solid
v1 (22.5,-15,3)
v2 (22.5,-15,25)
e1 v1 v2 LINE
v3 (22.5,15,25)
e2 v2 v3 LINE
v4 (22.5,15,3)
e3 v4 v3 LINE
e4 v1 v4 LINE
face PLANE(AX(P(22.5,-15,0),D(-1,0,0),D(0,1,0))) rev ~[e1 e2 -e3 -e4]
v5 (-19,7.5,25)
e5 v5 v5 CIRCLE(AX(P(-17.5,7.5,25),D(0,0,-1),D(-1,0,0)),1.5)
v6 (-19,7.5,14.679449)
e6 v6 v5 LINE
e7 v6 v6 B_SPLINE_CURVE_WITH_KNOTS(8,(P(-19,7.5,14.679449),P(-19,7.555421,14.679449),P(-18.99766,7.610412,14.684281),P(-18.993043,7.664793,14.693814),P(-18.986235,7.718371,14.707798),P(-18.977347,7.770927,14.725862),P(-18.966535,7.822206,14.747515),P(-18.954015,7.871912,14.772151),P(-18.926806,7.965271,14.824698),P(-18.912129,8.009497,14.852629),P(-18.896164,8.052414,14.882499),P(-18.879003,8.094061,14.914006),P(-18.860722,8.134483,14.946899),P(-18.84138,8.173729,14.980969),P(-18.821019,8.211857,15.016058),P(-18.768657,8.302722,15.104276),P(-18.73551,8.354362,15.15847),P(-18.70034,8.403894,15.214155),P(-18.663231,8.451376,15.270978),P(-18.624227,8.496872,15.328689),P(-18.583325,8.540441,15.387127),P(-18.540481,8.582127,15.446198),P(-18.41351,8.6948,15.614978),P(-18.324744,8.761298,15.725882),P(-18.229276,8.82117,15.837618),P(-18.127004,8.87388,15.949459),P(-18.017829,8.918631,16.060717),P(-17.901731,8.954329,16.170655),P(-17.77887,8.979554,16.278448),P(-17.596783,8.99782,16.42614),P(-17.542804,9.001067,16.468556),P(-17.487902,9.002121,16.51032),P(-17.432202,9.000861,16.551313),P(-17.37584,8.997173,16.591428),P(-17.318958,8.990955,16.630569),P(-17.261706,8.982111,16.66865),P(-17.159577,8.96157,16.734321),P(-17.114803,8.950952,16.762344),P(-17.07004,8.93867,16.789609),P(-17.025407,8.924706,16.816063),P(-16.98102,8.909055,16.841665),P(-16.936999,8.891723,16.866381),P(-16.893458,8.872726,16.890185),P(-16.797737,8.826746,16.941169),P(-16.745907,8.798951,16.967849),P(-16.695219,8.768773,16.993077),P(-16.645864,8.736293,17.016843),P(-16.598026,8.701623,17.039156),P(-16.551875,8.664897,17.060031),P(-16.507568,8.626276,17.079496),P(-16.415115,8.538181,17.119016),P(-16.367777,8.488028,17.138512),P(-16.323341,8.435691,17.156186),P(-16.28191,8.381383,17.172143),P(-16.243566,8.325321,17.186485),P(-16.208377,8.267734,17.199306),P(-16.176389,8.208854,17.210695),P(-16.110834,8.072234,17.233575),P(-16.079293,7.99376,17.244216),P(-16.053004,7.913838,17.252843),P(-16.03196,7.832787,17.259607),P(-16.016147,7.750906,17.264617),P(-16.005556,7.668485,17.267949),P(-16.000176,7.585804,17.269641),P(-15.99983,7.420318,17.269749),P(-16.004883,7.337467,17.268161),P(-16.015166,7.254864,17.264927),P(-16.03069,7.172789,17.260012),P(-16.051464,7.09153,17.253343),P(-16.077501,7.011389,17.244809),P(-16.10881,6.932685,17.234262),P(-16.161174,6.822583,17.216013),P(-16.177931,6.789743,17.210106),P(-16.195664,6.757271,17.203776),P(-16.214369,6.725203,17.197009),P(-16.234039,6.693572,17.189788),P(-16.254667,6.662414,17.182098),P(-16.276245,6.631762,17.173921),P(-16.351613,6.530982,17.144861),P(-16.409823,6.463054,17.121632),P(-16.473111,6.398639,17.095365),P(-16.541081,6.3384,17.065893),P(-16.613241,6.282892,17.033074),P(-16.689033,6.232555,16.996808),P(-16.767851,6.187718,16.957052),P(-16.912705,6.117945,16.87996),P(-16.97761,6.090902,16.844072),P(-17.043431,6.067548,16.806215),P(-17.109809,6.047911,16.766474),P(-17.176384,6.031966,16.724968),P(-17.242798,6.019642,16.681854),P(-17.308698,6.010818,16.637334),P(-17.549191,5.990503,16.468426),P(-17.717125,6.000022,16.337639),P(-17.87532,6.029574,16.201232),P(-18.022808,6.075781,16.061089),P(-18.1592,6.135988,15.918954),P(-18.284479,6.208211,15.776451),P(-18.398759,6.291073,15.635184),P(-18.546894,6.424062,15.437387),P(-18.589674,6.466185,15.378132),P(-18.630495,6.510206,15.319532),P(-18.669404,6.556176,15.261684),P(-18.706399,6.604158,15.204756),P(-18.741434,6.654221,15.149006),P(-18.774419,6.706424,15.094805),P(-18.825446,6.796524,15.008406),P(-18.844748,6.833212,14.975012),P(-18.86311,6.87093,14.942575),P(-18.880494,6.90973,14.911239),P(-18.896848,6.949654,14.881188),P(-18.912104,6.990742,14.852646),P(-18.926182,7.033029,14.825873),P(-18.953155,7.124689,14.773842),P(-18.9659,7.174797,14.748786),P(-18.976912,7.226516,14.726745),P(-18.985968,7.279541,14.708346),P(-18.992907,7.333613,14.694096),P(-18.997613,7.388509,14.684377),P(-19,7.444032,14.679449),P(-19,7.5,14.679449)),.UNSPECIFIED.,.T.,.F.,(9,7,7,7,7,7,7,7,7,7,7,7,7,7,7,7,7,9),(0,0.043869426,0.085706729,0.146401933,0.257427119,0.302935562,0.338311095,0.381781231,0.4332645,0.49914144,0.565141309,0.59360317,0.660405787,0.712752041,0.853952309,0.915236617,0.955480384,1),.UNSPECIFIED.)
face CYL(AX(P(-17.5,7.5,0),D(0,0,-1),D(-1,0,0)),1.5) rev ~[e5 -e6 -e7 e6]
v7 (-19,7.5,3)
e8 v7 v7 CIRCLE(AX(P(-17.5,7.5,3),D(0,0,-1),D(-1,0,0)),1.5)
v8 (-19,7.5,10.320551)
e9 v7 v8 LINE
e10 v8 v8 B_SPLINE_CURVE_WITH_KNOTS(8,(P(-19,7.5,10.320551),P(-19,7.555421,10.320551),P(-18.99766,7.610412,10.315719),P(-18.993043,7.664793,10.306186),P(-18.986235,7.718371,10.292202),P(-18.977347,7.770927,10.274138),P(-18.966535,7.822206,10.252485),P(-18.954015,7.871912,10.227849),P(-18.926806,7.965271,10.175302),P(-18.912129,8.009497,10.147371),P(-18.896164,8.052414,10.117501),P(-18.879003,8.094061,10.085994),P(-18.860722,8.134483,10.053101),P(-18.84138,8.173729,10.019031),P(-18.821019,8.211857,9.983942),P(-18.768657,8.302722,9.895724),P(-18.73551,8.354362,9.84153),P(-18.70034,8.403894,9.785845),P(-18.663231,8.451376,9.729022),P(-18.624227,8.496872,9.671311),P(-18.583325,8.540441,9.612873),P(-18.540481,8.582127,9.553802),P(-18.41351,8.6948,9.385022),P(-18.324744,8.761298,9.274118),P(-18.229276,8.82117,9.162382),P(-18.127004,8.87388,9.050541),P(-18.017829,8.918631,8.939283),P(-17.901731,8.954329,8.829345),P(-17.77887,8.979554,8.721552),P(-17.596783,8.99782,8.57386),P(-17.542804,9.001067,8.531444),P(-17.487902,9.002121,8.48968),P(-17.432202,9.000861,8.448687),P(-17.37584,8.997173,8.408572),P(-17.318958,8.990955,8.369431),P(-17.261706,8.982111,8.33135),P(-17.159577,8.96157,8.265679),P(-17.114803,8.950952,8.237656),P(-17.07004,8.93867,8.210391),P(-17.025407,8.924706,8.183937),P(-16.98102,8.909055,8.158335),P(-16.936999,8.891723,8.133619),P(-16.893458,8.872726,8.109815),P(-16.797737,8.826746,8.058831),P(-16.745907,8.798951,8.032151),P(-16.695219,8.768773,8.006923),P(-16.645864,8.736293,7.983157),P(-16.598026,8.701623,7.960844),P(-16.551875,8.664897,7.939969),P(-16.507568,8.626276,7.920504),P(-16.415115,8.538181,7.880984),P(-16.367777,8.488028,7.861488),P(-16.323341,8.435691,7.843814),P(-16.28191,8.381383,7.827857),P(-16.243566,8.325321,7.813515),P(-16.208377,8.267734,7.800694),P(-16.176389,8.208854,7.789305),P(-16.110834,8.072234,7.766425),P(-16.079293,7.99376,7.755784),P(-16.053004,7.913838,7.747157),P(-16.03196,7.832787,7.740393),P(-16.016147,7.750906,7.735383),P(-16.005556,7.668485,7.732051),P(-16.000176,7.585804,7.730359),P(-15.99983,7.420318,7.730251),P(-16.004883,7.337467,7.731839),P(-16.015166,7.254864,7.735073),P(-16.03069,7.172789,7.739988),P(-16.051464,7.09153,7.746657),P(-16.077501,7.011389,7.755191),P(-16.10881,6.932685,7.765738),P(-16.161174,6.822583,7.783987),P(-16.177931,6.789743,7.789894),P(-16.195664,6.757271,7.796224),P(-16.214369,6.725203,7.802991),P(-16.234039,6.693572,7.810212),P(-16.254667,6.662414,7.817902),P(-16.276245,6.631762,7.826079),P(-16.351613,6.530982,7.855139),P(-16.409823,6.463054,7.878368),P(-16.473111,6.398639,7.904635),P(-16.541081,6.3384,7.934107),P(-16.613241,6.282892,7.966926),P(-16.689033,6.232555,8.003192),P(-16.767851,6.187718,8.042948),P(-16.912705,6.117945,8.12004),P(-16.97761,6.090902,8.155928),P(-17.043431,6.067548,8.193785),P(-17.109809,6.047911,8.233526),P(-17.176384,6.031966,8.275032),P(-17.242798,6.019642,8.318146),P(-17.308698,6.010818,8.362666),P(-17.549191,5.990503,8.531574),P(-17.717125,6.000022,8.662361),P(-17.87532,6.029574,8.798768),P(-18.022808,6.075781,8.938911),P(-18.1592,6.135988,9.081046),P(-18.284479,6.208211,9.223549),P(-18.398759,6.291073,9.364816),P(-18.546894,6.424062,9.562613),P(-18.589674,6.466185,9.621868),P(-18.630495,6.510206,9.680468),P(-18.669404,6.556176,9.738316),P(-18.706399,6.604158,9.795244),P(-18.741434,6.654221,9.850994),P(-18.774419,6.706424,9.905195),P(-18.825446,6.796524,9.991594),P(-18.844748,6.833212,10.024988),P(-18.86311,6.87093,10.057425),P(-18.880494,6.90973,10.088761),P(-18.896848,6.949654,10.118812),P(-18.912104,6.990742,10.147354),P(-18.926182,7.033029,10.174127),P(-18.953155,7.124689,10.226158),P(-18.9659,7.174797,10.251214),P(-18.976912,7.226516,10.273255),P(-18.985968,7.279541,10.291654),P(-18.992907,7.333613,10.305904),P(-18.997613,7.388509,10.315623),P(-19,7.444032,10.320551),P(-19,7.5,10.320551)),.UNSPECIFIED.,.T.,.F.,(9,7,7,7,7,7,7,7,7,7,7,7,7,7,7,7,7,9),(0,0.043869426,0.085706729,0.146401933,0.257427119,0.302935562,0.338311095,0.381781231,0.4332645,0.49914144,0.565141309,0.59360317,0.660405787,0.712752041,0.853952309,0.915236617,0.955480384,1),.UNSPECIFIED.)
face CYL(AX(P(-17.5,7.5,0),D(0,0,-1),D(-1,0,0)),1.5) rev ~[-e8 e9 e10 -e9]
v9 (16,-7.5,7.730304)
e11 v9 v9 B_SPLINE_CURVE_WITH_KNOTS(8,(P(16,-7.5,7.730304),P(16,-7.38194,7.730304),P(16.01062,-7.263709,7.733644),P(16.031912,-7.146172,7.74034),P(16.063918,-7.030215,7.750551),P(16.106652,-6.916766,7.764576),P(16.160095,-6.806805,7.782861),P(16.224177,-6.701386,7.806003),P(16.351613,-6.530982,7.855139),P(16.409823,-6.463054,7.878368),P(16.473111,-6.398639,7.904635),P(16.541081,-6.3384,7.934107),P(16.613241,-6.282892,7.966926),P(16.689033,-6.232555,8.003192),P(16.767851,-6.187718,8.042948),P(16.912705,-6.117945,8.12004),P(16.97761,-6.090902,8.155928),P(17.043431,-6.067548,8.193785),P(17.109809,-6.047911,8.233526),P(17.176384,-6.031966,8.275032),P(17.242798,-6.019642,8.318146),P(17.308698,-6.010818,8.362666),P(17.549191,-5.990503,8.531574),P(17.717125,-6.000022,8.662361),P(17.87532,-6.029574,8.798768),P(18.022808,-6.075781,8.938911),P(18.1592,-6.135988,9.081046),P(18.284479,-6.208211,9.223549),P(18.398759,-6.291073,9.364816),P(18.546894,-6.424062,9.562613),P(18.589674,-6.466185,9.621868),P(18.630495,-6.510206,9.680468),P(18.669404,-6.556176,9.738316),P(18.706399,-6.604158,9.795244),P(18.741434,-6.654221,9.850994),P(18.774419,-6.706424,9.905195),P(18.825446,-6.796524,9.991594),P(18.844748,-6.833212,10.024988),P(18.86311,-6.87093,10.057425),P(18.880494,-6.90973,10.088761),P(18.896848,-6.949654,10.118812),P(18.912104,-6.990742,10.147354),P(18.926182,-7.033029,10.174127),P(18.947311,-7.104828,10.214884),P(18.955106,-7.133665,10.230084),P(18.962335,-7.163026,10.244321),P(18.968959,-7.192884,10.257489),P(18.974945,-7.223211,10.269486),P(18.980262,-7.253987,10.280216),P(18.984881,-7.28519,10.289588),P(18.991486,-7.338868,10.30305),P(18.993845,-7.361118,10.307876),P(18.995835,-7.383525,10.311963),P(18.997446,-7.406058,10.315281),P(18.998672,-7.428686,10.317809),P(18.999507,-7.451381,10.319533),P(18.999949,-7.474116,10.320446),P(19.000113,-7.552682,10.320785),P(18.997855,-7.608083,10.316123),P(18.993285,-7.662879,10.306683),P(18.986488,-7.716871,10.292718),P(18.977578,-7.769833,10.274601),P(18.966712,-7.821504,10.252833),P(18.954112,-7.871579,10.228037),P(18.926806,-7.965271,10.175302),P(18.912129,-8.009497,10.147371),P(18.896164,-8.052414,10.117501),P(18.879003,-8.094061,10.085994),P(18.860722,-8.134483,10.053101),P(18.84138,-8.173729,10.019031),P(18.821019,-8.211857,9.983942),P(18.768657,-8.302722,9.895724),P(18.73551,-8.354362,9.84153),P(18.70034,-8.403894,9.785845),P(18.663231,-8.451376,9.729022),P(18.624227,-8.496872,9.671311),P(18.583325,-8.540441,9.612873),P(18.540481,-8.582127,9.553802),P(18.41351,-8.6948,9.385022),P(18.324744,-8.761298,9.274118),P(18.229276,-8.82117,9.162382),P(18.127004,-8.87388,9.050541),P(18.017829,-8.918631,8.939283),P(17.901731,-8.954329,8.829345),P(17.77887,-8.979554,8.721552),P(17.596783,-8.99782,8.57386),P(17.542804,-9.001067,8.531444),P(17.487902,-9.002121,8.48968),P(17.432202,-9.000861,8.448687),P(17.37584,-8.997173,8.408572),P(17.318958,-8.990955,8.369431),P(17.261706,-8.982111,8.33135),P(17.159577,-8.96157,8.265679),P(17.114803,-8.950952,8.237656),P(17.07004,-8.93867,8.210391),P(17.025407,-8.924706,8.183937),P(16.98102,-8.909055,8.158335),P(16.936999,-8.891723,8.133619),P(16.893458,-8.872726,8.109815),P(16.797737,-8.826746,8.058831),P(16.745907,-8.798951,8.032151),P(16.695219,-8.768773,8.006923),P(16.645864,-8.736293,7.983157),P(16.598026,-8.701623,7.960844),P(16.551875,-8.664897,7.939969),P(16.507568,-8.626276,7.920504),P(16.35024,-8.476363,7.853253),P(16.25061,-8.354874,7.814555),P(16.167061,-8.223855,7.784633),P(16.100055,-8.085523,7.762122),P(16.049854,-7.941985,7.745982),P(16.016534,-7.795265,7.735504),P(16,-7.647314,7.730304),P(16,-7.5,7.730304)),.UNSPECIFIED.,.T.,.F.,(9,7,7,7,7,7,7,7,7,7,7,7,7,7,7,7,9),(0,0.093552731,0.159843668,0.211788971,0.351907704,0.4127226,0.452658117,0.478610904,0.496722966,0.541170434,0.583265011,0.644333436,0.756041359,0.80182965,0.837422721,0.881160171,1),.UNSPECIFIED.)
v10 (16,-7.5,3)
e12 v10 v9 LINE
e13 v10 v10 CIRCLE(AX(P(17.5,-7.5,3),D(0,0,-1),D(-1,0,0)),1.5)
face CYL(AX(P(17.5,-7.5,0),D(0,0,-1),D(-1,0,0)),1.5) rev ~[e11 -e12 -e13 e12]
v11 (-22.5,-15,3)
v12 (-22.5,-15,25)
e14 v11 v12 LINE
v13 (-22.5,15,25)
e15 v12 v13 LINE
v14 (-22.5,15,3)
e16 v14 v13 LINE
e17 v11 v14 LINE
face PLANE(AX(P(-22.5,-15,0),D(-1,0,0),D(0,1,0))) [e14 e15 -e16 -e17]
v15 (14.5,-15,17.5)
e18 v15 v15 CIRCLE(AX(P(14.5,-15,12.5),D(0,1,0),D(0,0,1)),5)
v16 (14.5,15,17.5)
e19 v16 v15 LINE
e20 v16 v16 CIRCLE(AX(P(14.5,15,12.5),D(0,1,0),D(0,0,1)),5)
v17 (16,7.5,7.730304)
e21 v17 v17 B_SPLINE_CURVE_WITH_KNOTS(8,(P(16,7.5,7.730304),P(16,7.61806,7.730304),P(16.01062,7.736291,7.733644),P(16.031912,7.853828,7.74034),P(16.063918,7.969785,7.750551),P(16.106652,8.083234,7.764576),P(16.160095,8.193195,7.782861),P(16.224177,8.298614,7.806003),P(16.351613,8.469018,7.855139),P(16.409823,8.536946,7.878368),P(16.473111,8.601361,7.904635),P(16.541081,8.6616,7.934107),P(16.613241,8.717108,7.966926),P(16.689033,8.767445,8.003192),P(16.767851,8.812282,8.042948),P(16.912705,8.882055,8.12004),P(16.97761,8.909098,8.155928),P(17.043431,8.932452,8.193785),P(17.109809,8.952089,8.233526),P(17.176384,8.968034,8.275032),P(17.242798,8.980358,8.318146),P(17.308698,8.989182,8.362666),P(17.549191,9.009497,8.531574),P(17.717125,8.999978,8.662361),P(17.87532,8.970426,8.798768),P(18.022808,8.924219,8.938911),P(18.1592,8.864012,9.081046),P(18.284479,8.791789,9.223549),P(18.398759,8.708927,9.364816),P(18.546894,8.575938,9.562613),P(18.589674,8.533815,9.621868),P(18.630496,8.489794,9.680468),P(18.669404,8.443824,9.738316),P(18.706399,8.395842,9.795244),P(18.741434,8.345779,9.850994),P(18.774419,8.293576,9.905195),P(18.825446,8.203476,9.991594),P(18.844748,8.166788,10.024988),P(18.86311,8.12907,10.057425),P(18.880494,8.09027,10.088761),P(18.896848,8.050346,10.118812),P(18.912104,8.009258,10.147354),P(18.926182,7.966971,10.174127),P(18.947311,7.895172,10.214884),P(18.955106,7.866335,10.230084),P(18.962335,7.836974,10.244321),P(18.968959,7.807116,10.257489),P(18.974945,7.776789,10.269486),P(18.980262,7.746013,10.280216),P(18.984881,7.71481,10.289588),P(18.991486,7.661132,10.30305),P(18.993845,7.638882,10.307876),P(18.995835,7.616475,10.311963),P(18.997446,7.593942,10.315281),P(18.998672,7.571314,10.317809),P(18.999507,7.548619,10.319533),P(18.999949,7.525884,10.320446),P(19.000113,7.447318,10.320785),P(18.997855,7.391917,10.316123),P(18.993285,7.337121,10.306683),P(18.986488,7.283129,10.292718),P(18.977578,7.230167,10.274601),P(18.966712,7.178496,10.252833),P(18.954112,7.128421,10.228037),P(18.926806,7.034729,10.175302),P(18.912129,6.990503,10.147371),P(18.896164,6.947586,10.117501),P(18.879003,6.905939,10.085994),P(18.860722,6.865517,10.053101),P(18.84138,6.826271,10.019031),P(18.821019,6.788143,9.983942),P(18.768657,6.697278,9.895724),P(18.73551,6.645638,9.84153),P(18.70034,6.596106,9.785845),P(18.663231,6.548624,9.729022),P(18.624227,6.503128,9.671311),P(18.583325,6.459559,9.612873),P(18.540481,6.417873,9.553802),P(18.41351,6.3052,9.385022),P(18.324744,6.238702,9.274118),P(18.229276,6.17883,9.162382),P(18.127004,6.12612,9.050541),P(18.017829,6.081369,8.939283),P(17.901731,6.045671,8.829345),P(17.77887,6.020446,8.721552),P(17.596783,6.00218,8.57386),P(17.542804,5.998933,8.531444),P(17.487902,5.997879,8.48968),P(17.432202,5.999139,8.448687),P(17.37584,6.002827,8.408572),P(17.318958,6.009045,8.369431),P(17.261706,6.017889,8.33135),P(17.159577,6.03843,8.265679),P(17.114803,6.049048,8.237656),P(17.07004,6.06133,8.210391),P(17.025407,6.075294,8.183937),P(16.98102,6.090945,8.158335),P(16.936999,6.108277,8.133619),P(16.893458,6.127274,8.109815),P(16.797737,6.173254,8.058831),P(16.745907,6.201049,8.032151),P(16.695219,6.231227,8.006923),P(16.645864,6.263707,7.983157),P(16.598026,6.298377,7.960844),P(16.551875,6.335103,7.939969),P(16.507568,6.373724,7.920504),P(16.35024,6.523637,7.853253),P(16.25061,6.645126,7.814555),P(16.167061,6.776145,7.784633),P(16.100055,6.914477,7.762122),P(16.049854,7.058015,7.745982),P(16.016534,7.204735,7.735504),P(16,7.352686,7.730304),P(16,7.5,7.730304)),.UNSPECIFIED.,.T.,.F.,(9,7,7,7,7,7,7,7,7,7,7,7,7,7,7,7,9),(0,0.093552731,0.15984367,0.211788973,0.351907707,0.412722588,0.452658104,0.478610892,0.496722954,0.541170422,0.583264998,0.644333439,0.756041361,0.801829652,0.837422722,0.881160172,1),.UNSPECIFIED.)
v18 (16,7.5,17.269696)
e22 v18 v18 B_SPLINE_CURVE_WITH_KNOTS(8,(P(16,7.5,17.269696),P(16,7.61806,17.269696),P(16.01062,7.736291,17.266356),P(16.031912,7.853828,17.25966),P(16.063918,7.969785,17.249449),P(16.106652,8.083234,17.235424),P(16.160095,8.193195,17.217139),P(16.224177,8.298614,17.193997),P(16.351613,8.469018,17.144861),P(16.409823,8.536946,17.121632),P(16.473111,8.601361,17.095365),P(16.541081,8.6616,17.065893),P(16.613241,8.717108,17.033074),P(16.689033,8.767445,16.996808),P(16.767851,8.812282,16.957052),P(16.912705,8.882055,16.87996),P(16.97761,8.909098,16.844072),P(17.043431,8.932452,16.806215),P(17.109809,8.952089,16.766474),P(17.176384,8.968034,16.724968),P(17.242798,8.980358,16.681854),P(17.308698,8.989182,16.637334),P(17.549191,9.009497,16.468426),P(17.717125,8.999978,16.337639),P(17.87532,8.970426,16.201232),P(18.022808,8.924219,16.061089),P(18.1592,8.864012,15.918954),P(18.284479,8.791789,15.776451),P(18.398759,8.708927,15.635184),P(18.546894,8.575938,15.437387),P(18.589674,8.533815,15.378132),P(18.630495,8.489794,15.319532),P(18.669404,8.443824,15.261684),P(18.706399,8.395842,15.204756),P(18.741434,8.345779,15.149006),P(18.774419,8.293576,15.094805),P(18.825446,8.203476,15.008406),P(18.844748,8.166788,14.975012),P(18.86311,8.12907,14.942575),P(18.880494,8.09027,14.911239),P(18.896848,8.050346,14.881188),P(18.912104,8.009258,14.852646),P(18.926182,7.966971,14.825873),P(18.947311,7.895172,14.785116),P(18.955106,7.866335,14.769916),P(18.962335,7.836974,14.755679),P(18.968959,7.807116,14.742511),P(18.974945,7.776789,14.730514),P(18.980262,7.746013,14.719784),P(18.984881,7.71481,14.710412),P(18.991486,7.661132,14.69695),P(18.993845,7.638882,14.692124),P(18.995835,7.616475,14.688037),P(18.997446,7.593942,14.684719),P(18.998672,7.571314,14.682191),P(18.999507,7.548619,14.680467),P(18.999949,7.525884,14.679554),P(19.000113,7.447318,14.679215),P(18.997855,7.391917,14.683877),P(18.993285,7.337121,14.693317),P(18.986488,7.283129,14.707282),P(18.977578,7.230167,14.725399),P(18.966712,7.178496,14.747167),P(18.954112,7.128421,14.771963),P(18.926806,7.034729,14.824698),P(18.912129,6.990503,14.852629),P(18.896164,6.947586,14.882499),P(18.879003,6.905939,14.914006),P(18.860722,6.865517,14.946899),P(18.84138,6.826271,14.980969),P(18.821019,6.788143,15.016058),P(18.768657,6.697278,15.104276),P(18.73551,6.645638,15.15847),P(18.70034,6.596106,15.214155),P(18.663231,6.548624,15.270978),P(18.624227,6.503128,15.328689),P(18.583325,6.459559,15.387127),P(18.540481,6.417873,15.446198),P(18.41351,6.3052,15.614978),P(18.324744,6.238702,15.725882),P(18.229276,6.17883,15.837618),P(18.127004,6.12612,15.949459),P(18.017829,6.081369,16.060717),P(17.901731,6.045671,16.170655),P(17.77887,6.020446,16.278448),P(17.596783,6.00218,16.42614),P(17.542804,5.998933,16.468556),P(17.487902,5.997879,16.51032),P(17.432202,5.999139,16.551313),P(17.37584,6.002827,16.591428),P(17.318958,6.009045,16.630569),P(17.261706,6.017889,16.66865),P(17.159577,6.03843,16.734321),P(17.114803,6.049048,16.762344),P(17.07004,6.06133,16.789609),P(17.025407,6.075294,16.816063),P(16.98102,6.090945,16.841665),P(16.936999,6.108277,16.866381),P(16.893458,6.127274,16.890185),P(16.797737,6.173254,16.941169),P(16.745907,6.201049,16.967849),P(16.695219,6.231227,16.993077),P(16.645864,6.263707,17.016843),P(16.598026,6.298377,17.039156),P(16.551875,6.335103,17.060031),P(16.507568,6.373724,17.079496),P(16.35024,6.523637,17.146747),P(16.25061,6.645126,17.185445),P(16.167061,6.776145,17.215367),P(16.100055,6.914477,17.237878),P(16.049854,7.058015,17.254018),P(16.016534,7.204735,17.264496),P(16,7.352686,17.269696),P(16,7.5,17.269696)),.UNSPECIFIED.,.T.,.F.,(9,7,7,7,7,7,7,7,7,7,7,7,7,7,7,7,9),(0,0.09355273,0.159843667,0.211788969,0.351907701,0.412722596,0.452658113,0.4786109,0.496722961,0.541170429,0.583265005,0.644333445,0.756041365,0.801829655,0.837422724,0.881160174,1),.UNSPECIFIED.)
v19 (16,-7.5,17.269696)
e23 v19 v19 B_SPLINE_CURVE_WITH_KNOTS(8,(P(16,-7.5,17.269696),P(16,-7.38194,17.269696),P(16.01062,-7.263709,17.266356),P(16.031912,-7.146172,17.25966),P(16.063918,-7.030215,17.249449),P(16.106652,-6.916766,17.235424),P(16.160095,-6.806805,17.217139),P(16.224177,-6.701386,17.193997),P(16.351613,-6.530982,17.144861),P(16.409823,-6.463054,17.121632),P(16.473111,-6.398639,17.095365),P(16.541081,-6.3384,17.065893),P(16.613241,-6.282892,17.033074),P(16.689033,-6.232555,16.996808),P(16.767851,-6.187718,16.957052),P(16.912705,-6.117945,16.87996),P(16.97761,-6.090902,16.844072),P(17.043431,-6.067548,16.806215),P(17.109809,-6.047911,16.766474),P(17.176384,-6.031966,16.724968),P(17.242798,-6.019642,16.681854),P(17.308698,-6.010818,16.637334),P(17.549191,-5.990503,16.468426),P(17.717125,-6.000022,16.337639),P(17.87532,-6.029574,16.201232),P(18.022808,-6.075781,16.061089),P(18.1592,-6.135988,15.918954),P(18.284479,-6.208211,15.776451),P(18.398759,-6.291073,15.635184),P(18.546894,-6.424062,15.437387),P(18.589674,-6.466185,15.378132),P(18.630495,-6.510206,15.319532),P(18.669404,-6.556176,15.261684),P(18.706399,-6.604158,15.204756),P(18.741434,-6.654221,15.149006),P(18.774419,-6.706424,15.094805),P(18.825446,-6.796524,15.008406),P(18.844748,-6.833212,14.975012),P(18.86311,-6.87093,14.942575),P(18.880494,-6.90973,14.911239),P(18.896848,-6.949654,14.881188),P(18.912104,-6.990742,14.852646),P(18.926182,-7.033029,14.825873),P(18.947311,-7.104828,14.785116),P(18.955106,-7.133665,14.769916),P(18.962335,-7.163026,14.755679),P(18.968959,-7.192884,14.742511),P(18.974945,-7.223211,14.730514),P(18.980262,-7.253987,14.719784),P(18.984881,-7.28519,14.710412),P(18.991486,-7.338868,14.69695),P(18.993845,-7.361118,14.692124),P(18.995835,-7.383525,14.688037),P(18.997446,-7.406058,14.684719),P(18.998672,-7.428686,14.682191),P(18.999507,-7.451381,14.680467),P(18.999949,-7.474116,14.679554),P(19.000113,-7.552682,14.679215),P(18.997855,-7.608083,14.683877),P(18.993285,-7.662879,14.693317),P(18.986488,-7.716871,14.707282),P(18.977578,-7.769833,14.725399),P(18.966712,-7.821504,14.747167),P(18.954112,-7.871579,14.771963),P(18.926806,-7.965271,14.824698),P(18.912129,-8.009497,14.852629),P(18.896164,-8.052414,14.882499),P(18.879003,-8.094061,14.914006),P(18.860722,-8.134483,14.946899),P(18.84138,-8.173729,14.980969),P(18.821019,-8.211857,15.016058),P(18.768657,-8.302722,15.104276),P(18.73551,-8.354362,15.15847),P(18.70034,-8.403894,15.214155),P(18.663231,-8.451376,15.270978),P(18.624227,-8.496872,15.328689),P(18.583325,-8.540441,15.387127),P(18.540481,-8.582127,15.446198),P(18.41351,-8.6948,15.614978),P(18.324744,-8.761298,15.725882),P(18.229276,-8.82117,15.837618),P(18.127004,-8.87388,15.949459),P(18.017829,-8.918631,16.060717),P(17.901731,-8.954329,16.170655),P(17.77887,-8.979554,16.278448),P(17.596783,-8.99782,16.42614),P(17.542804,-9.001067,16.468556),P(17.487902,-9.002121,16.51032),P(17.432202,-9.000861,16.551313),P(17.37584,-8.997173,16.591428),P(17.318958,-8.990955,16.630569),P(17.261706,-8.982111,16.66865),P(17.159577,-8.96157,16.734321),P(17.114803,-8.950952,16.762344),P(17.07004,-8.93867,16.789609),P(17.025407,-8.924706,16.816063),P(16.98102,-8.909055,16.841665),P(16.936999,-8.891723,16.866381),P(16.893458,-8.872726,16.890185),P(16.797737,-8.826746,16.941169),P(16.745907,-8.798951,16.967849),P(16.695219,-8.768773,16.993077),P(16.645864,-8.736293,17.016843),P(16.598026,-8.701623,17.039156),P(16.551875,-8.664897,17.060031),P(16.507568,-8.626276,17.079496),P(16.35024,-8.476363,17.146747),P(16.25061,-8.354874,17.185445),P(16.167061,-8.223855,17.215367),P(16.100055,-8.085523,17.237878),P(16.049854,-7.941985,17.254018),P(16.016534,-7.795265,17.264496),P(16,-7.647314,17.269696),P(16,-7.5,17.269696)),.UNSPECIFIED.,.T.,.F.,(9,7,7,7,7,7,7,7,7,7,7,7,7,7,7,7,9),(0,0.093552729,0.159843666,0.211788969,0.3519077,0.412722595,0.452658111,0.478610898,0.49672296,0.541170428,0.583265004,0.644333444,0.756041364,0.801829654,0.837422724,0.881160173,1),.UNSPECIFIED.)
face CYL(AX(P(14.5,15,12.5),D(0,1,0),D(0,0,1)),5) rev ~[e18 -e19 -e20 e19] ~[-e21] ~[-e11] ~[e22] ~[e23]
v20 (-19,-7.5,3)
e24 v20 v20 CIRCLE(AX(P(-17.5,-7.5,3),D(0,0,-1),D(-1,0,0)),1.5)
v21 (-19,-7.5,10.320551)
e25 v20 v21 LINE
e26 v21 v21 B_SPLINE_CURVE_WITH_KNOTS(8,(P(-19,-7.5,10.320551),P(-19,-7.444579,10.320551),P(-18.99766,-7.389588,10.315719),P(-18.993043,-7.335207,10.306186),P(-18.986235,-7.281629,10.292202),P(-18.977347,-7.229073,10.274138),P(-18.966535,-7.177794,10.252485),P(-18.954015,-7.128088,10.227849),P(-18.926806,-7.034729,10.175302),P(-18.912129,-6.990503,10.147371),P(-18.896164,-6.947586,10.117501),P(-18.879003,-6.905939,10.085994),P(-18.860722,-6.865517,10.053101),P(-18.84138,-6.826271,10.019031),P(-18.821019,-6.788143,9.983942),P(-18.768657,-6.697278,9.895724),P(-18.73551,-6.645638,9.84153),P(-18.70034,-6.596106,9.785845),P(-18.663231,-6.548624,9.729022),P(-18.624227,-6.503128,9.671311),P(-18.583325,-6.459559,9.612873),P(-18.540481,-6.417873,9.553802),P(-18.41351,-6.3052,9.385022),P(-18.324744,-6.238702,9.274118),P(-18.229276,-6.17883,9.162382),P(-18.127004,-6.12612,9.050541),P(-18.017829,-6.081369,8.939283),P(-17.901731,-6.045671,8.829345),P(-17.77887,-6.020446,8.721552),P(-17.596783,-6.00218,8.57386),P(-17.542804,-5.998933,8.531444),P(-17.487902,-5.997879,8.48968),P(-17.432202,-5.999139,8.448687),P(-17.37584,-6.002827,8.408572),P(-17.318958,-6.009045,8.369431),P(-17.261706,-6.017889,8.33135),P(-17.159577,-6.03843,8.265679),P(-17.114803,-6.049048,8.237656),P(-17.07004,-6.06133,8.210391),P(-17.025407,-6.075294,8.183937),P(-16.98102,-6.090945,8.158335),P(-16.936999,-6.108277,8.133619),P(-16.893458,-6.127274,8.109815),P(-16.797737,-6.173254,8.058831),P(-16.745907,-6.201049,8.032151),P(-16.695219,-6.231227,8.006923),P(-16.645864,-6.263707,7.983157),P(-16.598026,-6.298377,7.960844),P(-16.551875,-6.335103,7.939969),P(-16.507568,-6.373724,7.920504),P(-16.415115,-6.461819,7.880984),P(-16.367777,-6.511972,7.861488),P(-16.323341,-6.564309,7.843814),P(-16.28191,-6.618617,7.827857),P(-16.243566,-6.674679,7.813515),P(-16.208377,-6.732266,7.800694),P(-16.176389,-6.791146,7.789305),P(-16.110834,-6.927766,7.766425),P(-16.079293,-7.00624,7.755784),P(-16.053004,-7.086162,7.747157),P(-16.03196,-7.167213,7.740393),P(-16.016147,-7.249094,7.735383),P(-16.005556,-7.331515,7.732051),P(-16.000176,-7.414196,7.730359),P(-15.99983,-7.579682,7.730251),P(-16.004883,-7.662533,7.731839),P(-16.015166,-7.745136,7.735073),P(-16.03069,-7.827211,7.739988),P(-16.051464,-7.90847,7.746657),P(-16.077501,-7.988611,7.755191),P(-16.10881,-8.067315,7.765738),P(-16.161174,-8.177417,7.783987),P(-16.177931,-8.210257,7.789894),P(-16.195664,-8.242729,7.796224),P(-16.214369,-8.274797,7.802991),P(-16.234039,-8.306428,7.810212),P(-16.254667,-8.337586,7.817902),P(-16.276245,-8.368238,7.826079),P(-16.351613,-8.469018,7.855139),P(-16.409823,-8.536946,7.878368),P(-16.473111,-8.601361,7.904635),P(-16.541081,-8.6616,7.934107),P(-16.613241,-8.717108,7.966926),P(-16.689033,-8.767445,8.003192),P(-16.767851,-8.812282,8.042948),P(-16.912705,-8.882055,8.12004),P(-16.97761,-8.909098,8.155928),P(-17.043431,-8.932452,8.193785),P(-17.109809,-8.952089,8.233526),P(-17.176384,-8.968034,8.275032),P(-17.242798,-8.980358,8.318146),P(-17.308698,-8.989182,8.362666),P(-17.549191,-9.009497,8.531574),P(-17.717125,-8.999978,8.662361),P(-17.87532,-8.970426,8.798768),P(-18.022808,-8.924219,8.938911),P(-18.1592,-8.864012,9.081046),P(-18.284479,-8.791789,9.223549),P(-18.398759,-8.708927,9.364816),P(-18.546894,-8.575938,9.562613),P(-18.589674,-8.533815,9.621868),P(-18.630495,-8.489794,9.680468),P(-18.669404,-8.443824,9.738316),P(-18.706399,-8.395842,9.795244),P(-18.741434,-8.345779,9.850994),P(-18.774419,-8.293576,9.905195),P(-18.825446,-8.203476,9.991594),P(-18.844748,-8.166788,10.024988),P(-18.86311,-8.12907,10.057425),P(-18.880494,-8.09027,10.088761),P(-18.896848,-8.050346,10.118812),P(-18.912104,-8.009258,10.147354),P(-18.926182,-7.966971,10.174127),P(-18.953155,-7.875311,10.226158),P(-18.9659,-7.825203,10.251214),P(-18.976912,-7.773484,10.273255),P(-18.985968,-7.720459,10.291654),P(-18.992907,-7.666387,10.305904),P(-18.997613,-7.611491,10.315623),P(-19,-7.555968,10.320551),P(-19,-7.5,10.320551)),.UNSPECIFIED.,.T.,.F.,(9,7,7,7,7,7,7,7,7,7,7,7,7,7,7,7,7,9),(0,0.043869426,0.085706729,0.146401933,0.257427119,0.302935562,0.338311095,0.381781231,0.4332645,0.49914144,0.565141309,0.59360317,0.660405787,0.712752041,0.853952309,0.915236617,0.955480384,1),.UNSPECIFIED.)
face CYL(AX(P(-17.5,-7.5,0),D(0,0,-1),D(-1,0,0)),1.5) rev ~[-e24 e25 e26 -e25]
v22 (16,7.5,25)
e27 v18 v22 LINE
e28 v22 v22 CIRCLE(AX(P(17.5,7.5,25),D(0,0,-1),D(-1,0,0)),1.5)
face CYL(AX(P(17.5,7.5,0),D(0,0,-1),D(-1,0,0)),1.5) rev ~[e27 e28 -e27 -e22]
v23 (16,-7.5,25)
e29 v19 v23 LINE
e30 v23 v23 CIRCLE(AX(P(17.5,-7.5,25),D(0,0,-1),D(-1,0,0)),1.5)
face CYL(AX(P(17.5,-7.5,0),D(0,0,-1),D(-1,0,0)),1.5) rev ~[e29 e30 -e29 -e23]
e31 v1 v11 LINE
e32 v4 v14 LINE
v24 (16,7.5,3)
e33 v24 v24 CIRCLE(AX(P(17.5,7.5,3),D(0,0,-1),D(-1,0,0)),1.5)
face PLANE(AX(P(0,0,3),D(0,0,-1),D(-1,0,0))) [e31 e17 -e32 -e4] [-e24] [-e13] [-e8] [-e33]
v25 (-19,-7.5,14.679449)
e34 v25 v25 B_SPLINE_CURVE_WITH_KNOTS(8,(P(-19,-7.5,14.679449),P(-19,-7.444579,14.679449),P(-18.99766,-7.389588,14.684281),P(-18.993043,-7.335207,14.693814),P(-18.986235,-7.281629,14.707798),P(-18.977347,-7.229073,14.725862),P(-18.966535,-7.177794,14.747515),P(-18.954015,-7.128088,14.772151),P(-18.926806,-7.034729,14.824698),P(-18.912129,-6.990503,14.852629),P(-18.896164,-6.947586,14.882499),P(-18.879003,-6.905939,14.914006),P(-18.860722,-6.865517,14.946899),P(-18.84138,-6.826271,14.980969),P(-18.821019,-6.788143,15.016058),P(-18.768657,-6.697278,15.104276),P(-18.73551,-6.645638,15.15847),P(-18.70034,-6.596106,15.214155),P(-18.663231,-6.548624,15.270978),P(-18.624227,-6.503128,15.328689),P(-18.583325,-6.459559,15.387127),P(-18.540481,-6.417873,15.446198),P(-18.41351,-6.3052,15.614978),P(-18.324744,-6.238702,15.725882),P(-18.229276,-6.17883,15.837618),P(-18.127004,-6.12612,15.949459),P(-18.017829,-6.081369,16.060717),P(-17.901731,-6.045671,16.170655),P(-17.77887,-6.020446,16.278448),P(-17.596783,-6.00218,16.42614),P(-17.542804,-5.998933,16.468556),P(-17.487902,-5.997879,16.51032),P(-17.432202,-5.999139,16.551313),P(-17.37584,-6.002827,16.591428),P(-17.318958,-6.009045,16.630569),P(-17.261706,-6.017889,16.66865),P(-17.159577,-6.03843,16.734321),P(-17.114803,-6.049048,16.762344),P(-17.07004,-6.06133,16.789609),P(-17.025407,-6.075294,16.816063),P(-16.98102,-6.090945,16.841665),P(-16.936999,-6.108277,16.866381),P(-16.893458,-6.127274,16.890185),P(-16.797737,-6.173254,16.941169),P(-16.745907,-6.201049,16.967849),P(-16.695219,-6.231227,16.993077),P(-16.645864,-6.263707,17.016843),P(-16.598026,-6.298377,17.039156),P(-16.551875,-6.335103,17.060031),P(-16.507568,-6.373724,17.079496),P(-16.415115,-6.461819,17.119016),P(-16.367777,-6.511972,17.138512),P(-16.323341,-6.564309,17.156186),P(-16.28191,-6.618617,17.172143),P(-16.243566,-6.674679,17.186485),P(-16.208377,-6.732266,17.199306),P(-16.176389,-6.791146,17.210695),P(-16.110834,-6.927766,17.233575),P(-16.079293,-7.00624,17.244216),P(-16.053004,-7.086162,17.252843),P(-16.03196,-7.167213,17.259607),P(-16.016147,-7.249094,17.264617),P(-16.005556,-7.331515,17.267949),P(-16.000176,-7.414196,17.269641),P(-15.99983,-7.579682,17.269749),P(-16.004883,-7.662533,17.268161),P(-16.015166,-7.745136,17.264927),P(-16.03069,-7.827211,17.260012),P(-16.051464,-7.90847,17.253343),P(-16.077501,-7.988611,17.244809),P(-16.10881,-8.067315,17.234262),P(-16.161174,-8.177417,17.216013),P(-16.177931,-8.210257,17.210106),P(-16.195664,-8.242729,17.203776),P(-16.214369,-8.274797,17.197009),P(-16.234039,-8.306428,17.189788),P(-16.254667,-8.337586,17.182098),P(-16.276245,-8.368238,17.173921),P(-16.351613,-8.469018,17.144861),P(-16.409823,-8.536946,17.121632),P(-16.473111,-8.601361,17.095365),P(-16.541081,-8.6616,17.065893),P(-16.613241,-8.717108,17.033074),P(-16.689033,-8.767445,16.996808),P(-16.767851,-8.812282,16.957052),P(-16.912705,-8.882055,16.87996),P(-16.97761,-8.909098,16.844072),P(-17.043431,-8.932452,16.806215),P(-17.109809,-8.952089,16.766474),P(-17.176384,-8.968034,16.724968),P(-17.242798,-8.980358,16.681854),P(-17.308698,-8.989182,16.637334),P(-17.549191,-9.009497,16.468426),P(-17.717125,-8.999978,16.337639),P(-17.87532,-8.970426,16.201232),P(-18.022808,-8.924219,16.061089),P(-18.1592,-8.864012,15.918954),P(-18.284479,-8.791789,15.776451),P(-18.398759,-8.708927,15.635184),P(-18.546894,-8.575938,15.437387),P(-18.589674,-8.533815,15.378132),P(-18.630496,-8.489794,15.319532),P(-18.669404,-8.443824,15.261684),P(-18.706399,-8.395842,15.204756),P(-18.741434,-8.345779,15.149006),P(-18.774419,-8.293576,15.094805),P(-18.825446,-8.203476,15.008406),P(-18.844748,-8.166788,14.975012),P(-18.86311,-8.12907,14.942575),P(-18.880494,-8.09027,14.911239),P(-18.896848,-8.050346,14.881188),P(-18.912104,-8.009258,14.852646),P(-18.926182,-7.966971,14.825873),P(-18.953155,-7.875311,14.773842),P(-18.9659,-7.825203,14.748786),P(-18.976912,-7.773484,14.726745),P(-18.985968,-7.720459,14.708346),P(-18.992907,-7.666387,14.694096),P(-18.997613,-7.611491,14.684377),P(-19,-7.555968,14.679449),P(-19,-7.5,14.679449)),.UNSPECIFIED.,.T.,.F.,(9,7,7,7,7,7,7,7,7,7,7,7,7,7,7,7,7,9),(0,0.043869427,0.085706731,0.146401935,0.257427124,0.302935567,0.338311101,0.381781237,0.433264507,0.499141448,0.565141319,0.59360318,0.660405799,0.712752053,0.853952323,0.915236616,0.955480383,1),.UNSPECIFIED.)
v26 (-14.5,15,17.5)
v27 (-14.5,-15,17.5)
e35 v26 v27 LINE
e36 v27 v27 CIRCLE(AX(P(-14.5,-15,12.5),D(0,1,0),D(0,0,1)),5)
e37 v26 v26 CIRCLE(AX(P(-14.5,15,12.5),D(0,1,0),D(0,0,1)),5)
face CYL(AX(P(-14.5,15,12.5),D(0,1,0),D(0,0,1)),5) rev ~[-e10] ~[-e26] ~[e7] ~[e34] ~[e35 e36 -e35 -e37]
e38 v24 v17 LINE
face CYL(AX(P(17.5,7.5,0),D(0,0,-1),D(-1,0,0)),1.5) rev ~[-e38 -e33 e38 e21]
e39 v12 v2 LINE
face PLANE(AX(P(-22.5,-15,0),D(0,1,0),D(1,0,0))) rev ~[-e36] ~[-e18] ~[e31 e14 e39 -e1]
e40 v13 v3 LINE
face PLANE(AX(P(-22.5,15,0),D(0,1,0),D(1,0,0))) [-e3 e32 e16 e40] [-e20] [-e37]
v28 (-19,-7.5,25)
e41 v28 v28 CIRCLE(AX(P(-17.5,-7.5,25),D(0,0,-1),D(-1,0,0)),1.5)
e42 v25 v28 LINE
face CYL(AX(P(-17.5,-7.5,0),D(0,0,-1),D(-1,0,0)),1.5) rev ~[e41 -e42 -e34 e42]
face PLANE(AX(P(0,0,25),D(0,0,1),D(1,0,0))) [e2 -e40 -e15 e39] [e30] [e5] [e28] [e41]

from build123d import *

# Parameters (mm, degrees)
SKETCH1_W           = 45
SKETCH1_H           = 30
BOSS_EXTRUDE2_DEPTH = 25
SKETCH4_R           = 1.5
CUT_EXTRUDE3_DEPTH  = 25
SKETCH5_R           = 5
CUT_EXTRUDE5_DEPTH  = 46.069390943
SKETCH7_W           = 45
SKETCH7_H           = 30
CUT_EXTRUDE8_DEPTH  = 3


with BuildPart() as part:
    # Sketch1 → Boss-Extrude2 (new body)
    with BuildSketch(Plane.XY):
        Rectangle(SKETCH1_W, SKETCH1_H)
    extrude(amount=BOSS_EXTRUDE2_DEPTH)

    # Sketch4 → Cut-Extrude3 (cut)
    with BuildSketch(Plane(origin=(0, 0, 0), x_dir=(-1, 0, 0), z_dir=(0, 0, -1))):
        with Locations((-17.5, 7.5)):
            Circle(SKETCH4_R)
        with Locations((17.5, 7.5)):
            Circle(SKETCH4_R)
        with Locations((-17.5, -7.5)):
            Circle(SKETCH4_R)
        with Locations((17.5, -7.5)):
            Circle(SKETCH4_R)
    extrude(amount=-CUT_EXTRUDE3_DEPTH, mode=Mode.SUBTRACT)

    # Sketch5 → Cut-Extrude5 (cut, through all)
    with BuildSketch(Plane(origin=(0, 15, 0), x_dir=(1, 0, 0), z_dir=(0, 1, 0))):
        with Locations(Location((-14.5, -12.5, 0), (0, 0, 270))):
            Circle(SKETCH5_R)
        with Locations(Location((14.5, -12.5, 0), (0, 0, 270))):
            Circle(SKETCH5_R)
    extrude(amount=-CUT_EXTRUDE5_DEPTH, mode=Mode.SUBTRACT)

    # Sketch7 → Cut-Extrude8 (cut)
    with BuildSketch(Plane(origin=(0, 0, 0), x_dir=(-1, 0, 0), z_dir=(0, 0, -1))):
        Rectangle(SKETCH7_W, SKETCH7_H)
    extrude(amount=-CUT_EXTRUDE8_DEPTH, mode=Mode.SUBTRACT)


solid = part.part
